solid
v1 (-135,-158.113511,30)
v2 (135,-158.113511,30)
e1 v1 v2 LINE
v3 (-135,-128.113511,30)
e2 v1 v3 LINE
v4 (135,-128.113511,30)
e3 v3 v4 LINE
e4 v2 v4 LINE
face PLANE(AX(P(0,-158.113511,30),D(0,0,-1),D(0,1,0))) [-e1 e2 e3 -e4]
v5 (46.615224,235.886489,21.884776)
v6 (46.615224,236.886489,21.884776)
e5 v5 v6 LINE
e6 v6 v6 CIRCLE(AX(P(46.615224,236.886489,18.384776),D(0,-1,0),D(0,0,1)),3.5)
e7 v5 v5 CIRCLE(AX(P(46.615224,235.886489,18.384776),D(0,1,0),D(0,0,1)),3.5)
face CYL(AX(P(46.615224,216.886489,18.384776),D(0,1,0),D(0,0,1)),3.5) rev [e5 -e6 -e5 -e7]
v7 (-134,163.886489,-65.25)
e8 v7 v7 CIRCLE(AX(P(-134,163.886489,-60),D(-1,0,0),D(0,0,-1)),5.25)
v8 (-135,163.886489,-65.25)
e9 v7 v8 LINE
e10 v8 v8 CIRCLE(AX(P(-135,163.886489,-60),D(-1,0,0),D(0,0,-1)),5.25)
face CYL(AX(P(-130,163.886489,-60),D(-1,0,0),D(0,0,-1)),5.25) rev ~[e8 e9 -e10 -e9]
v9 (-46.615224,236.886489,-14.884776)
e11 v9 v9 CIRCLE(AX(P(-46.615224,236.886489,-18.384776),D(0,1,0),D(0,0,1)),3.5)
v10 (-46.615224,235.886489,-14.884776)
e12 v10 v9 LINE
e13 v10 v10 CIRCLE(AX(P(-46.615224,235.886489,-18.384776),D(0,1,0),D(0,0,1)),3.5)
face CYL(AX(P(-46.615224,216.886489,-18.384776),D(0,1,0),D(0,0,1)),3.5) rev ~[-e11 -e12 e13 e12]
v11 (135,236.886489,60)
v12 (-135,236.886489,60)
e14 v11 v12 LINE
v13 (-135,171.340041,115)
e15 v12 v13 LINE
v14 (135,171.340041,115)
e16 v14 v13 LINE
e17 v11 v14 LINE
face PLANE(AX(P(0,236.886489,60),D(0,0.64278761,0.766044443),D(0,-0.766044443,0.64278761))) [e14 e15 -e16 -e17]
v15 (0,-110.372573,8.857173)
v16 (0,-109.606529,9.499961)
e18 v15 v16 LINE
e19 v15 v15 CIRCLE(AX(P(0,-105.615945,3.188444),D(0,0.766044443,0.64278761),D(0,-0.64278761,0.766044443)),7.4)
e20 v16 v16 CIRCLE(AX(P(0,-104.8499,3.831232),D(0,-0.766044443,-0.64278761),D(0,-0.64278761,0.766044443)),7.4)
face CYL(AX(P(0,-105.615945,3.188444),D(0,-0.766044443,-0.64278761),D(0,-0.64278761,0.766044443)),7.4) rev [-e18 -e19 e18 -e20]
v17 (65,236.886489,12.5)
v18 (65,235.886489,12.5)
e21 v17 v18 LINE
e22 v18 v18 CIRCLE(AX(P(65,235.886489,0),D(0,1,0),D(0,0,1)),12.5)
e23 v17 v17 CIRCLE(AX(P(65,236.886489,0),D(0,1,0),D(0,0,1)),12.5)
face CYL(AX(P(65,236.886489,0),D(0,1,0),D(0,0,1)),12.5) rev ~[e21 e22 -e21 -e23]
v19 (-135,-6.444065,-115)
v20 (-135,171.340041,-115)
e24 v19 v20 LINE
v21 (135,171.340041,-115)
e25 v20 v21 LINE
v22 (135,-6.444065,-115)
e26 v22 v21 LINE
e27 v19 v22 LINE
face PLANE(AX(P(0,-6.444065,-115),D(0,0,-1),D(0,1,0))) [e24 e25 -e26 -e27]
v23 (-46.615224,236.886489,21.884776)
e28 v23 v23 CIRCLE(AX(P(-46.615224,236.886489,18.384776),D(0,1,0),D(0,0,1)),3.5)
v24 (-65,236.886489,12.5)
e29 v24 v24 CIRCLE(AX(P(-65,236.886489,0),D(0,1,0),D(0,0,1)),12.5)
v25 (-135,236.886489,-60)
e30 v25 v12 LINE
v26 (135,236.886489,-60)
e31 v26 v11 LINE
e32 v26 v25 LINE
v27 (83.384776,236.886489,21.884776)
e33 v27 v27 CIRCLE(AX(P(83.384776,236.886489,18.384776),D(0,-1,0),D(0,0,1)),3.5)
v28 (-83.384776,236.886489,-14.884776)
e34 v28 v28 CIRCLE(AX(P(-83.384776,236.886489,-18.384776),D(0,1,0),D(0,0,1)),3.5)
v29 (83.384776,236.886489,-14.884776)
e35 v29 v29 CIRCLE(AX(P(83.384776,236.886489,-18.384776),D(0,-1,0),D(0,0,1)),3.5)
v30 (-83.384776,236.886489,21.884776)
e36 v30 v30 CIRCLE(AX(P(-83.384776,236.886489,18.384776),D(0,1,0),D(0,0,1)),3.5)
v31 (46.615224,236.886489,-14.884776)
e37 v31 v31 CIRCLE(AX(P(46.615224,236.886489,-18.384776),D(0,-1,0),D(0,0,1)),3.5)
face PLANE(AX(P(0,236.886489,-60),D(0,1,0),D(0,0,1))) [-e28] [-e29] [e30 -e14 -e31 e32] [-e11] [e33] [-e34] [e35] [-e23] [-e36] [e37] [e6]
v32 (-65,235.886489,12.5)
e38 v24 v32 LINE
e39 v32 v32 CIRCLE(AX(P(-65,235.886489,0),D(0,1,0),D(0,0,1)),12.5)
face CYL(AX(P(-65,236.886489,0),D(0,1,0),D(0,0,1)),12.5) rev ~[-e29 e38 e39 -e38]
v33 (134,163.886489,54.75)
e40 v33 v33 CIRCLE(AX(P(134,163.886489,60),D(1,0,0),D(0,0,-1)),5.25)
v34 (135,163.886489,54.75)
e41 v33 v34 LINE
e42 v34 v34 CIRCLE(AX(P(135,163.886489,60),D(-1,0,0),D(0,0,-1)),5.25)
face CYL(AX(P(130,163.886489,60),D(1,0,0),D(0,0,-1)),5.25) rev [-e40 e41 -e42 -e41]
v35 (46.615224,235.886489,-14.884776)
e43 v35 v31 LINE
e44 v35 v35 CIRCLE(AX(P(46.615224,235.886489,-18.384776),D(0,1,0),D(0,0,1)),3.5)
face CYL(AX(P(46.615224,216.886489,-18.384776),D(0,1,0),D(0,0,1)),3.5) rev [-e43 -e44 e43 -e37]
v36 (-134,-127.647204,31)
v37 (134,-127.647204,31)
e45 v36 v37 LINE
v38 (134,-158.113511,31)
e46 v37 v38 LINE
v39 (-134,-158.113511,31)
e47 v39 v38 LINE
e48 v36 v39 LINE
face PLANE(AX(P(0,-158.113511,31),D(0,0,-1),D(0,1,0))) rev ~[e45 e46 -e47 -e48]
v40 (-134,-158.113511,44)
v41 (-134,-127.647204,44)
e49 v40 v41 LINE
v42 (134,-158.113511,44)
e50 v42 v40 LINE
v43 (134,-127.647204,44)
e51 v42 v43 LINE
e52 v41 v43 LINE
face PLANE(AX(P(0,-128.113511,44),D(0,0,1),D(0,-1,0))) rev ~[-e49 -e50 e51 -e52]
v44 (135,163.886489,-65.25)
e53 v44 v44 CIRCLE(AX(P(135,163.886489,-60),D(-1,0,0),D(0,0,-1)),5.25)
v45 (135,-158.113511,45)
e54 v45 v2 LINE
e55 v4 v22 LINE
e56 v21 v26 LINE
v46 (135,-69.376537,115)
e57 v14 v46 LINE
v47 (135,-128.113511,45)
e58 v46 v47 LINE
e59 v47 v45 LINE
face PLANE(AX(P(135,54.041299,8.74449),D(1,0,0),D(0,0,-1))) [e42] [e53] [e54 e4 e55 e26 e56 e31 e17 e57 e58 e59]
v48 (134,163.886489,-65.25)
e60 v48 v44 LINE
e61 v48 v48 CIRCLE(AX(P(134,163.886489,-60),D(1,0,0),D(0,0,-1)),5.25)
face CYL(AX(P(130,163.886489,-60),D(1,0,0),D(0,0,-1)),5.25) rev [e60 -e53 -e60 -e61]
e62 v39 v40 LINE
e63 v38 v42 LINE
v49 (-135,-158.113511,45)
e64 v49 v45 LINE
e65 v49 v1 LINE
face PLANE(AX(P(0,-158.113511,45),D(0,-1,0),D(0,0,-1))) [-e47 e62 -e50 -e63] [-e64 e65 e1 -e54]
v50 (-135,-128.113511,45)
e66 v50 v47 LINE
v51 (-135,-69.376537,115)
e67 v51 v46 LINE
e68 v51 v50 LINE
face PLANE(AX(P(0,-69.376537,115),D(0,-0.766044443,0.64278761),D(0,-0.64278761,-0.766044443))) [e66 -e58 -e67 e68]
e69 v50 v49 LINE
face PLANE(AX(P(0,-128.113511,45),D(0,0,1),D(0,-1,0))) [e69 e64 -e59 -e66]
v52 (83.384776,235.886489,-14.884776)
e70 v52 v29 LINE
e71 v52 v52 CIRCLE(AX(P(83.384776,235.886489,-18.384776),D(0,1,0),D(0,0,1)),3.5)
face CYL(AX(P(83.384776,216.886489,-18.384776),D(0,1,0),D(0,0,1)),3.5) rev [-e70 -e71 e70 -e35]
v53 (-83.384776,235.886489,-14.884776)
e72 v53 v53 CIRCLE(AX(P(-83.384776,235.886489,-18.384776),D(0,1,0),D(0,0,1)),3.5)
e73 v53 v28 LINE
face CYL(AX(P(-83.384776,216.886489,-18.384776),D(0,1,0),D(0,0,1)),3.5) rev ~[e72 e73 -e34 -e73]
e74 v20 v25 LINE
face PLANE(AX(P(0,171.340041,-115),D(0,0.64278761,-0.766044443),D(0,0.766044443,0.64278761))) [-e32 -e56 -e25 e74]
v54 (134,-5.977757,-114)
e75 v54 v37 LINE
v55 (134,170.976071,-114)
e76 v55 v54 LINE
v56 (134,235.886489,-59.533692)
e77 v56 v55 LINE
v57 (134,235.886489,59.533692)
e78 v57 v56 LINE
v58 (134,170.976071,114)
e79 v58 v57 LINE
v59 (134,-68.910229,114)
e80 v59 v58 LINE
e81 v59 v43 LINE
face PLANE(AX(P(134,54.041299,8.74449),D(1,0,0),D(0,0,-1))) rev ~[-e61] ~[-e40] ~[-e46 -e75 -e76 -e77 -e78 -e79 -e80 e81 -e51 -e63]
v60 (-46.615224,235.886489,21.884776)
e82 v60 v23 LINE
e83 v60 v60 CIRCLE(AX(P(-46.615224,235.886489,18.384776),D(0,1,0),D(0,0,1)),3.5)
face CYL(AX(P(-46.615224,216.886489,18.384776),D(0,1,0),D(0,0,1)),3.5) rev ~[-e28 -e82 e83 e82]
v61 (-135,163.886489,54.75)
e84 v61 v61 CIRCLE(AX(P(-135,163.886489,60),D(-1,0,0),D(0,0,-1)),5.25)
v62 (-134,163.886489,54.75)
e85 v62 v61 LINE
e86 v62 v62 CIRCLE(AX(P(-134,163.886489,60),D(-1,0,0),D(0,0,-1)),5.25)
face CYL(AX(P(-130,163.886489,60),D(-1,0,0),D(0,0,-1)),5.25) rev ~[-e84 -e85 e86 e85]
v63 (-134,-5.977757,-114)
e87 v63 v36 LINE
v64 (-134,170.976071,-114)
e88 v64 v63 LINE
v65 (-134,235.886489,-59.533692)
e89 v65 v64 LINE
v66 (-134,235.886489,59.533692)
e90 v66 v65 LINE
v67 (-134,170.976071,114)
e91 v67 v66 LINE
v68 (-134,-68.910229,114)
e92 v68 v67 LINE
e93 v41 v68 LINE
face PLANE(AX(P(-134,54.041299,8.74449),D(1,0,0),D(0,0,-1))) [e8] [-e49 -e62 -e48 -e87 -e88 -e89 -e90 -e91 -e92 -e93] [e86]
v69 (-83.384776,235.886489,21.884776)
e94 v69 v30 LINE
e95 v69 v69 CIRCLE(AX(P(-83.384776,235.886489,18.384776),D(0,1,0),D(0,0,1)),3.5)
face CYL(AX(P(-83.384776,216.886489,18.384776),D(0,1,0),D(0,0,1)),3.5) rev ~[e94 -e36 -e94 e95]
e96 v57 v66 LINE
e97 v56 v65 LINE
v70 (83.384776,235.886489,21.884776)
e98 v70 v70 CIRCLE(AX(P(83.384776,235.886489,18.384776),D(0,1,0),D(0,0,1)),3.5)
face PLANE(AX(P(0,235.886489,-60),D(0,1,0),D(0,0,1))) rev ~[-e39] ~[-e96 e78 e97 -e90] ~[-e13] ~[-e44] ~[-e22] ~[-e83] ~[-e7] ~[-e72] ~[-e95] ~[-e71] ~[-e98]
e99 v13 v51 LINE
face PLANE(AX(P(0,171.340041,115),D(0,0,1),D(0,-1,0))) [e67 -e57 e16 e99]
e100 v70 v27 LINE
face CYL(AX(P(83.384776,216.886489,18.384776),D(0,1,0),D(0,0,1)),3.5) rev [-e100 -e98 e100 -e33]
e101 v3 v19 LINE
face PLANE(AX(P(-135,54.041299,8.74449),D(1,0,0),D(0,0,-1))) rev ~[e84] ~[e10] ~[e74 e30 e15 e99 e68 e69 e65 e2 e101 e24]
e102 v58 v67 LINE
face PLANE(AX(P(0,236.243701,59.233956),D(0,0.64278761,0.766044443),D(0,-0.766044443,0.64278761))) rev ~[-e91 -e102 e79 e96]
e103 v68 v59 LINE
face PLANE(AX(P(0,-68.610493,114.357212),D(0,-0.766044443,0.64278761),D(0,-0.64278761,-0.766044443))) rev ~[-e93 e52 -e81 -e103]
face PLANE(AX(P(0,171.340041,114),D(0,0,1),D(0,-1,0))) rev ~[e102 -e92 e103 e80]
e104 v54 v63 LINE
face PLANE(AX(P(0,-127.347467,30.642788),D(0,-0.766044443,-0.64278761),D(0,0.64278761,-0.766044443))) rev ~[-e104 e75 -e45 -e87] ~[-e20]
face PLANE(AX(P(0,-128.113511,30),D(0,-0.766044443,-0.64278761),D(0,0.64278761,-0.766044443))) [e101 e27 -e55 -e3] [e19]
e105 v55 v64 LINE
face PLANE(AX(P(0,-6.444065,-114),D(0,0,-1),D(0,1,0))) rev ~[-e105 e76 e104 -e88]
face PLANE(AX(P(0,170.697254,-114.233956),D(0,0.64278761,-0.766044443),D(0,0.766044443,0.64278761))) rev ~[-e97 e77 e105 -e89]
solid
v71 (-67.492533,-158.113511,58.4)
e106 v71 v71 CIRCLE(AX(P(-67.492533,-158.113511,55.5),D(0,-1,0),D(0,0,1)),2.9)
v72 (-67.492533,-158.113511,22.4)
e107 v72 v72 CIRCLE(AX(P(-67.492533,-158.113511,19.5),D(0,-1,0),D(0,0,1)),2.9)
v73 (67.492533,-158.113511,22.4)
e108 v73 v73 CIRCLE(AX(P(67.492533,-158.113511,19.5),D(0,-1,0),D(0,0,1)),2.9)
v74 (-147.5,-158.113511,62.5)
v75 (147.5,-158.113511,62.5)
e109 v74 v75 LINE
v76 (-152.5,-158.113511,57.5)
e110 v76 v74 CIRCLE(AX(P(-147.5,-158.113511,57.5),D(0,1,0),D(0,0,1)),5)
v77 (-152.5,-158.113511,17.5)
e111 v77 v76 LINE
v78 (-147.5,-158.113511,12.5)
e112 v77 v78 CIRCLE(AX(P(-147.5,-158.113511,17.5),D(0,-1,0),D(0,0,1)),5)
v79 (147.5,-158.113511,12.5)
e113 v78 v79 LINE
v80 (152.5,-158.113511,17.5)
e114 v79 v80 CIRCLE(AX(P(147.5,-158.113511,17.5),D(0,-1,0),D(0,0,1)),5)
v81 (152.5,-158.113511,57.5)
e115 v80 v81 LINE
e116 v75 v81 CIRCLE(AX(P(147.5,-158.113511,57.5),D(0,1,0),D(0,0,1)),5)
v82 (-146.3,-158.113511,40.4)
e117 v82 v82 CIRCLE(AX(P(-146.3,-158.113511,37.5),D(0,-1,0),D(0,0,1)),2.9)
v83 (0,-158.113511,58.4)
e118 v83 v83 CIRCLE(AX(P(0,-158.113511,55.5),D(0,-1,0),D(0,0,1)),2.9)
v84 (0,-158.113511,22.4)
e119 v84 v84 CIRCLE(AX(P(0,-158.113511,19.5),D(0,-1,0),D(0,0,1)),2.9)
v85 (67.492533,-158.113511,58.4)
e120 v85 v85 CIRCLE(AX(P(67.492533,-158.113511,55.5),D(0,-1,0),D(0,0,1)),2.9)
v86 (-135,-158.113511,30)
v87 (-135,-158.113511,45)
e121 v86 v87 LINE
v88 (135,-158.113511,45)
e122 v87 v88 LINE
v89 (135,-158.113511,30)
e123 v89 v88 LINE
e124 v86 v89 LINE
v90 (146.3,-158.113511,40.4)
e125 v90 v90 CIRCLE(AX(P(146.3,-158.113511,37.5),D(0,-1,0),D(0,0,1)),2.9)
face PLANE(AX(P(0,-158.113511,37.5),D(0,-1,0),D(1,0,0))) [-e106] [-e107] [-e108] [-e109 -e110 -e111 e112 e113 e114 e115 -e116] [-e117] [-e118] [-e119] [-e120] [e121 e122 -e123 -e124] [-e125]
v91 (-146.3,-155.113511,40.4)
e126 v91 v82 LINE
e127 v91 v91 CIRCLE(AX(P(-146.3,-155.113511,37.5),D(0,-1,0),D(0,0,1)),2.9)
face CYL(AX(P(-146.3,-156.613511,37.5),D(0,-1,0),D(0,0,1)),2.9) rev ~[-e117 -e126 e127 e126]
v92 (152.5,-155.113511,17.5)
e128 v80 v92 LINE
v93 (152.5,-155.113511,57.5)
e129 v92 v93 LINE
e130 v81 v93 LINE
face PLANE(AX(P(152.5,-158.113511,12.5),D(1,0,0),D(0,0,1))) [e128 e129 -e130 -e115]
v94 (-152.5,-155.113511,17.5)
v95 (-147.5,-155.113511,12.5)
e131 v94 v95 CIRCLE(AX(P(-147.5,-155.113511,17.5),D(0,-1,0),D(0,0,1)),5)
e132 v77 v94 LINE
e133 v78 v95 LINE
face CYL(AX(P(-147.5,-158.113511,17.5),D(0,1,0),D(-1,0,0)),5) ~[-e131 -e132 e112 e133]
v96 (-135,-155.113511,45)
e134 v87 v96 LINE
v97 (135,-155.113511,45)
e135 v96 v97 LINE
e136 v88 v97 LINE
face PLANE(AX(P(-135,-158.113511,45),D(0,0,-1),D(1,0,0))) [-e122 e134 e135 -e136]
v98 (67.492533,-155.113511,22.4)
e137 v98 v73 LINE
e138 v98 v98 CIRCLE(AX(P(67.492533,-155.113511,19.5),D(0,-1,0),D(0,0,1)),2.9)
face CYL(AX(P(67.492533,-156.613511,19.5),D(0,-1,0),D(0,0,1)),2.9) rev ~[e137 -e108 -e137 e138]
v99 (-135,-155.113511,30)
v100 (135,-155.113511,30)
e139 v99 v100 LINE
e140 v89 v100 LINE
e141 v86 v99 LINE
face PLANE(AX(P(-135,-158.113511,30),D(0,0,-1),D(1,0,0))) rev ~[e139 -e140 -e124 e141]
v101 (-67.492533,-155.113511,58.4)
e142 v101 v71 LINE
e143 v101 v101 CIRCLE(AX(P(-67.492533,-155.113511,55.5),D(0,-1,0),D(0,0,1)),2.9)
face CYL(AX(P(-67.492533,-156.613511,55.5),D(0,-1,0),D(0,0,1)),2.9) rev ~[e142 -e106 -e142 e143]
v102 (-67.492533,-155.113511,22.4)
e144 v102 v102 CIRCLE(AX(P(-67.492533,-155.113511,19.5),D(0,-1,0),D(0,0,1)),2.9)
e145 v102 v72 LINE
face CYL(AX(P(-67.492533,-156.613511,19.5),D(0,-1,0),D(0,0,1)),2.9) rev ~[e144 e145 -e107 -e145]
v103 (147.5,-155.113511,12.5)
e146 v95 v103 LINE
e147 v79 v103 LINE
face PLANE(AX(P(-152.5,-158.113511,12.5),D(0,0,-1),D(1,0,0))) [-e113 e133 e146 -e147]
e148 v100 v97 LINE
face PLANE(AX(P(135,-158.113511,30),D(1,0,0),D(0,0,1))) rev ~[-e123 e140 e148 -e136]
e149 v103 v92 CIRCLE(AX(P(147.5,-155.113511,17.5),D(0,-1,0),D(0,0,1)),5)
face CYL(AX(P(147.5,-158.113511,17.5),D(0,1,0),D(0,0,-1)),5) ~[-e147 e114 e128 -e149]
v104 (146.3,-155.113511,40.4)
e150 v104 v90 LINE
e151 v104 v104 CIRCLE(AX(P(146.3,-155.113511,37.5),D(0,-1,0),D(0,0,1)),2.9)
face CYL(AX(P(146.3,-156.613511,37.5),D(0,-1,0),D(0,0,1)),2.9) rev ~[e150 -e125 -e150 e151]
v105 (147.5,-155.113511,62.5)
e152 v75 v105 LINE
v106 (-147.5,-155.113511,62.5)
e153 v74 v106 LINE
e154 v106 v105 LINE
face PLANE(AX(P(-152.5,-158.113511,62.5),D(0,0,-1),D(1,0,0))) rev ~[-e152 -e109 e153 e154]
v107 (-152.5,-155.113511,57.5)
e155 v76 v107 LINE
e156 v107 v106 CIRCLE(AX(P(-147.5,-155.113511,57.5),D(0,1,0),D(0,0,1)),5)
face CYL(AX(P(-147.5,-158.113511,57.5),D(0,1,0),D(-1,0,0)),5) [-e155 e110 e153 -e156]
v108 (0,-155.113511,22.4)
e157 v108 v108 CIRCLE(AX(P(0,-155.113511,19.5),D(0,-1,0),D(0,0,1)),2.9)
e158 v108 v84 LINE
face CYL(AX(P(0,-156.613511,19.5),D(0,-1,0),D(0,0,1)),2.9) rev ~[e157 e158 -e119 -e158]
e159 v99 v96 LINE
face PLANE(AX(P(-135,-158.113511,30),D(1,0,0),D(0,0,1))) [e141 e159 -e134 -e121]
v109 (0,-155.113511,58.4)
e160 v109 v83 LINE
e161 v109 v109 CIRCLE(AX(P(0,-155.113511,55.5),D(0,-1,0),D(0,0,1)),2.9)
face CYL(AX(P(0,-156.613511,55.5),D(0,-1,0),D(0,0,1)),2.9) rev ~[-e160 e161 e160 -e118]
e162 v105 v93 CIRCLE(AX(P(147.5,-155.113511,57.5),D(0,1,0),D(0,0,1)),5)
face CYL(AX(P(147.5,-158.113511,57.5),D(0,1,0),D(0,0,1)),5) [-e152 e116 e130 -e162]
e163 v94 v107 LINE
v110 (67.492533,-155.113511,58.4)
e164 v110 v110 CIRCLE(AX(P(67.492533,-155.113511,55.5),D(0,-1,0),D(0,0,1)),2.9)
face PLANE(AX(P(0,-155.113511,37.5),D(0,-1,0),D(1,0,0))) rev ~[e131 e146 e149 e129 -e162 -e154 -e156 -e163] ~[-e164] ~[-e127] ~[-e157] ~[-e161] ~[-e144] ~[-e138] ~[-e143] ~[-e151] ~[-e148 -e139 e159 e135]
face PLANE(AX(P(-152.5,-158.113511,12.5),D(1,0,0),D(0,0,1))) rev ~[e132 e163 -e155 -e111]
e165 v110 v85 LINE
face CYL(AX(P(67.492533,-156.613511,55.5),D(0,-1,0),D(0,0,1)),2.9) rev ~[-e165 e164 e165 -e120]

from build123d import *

# Parameters (mm, degrees)
BOSS_EXTRUDE1_DEPTH                   = 135
SHELL1_T                              = -1
SKETCH16_W                            = 305
SKETCH16_H                            = 50
SKETCH16_W_2                          = 270
SKETCH16_H_2                          = 15
BOSS_EXTRUDE2_DEPTH                   = 3
SKETCH18_W                            = 2.9
SKETCH18_H                            = 3
M5_CLEARANCE_HOLE1_AT_2_COUNT         = 2
M5_CLEARANCE_HOLE1_AT_2_PITCH         = 67.49253334
M5_CLEARANCE_HOLE1_AT_3_COUNT         = 2
M5_CLEARANCE_HOLE1_AT_3_PITCH         = 134.98506668
M5_CLEARANCE_HOLE1_AT_4_COUNT         = 2
M5_CLEARANCE_HOLE1_AT_4_PITCH         = 214.5489392
M5_CLEARANCE_HOLE1_AT_5_COUNT         = 2
M5_CLEARANCE_HOLE1_AT_5_PITCH         = 139.703143223
M5_CLEARANCE_HOLE1_AT_6_COUNT         = 2
M5_CLEARANCE_HOLE1_AT_6_PITCH         = 76.493411851
M5_CLEARANCE_HOLE1_AT_7_COUNT         = 2
M5_CLEARANCE_HOLE1_AT_7_PITCH         = 36
M5_CLEARANCE_HOLE1_AT_8_COUNT         = 2
M5_CLEARANCE_HOLE1_AT_8_PITCH         = 80.836976696
SKETCH19_R                            = 12.5
CUT_EXTRUDE1_DEPTH                    = 10
FILLET1_R                             = 5
F_7_0_7_DIAMETER_HOLE1_AT_2_COUNT     = 2
F_7_0_7_DIAMETER_HOLE1_AT_2_PITCH     = 36.769552622
F_7_0_7_DIAMETER_HOLE1_AT_3_COUNT     = 2
F_7_0_7_DIAMETER_HOLE1_AT_3_PITCH     = 36.769552622
F_7_0_7_DIAMETER_HOLE1_AT_4_COUNT     = 2
F_7_0_7_DIAMETER_HOLE1_AT_4_PITCH     = 52
SKETCH23_R                            = 7.4
CUT_EXTRUDE2_DEPTH                    = 10
F_10_5_10_5_DIAMETER_HOLE1_AT_2_COUNT = 2
F_10_5_10_5_DIAMETER_HOLE1_AT_2_PITCH = 120


with BuildPart() as part:
    # Sketch1 → Boss-Extrude1 (new, symmetric)
    with BuildSketch(Plane(origin=(0, 0, 0), x_dir=(0, 0, -1), z_dir=(1, 0, 0))):
        Polygon((-115, 171.340041203), (-115, -69.376537021), (-45, -128.113511204), (-45, -158.113511204), (-30, -158.113511204), (-30, -128.113511204), (115, -6.444064683), (115, 171.340041203), (60, 236.886488796), (-60, 236.886488796), align=None)
    extrude(amount=BOSS_EXTRUDE1_DEPTH, both=True)

    # Shell1
    shell1_openings = [part.faces().sort_by_distance(p)[0] for p in [
        (0, -158.113511204, 37.5),
    ]]
    offset(amount=SHELL1_T, openings=shell1_openings, kind=Kind.INTERSECTION)

    # Sketch19 → Cut-Extrude1 (cut)
    with BuildSketch(Plane(origin=(0, 236.886488796, 0), x_dir=(1, 0, 0), z_dir=(0, 1, 0))):
        with Locations(Location((65, 0, 0), (0, 0, 270))):
            Circle(SKETCH19_R)
        with Locations(Location((-65, 0, 0), (0, 0, 270))):
            Circle(SKETCH19_R)
    extrude(amount=-CUT_EXTRUDE1_DEPTH, mode=Mode.SUBTRACT)

    # Sketch22 → Ø7.0 (7) Diameter Hole1 (revolve, cut)
    with BuildSketch(Plane(origin=(46.615223689, 236.886488796, -18.384776311), x_dir=(0, 0, 1), z_dir=(1, 0, 0))):
        Polygon((0, 0), (0, 22.103012167), (3.5, 20), (3.5, 0), align=None)
    f_7_0_7_diameter_hole1 = revolve(axis=Axis((46.615223689, 243.236488796, -18.384776311), (0, -1, 0)), mode=Mode.SUBTRACT)

    # Ø7.0 (7) Diameter Hole1 at 2: Ø7.0 (7) Diameter Hole1 ×2
    with Locations(*[(i * F_7_0_7_DIAMETER_HOLE1_AT_2_PITCH, 0, 0) for i in range(1, F_7_0_7_DIAMETER_HOLE1_AT_2_COUNT)]):
        add(f_7_0_7_diameter_hole1, mode=Mode.SUBTRACT)

    # Ø7.0 (7) Diameter Hole1 at 3: Ø7.0 (7) Diameter Hole1 ×2
    with Locations(*[(0, 0, i * F_7_0_7_DIAMETER_HOLE1_AT_3_PITCH) for i in range(1, F_7_0_7_DIAMETER_HOLE1_AT_3_COUNT)]):
        add(f_7_0_7_diameter_hole1, mode=Mode.SUBTRACT)

    # Ø7.0 (7) Diameter Hole1 at 4: Ø7.0 (7) Diameter Hole1 ×2
    with Locations(*[Vector(0.7071067811865488, 0, 0.7071067811865464) * (i * F_7_0_7_DIAMETER_HOLE1_AT_4_PITCH) for i in range(1, F_7_0_7_DIAMETER_HOLE1_AT_4_COUNT)]):
        add(f_7_0_7_diameter_hole1, mode=Mode.SUBTRACT)

    # Mirror1: Ø7.0 (7) Diameter Hole1 across plane
    add(f_7_0_7_diameter_hole1.mirror(Plane(origin=(0, 0, 0), x_dir=(0, 0, 1), z_dir=(1, 0, 0))), mode=Mode.SUBTRACT)

    # Mirror1 copy 1 sketch → Mirror1 copy 1 (revolve, cut)
    with BuildSketch(Plane(origin=(-83.384776311, 236.886488796, -18.384776311), x_dir=(0, 0, 1), z_dir=(-1, 0, 0))):
        Polygon((0, 0), (0, -22.103012167), (3.5, -20), (3.5, 0), align=None)
    revolve(axis=Axis((-83.384776311, 243.236488796, -18.384776311), (0, 1, 0)), mode=Mode.SUBTRACT)

    # Mirror1 copy 2 sketch → Mirror1 copy 2 (revolve, cut)
    with BuildSketch(Plane(origin=(-46.615223689, 236.886488796, 18.384776311), x_dir=(0, 0, 1), z_dir=(-1, 0, 0))):
        Polygon((0, 0), (0, -22.103012167), (3.5, -20), (3.5, 0), align=None)
    revolve(axis=Axis((-46.615223689, 243.236488796, 18.384776311), (0, 1, 0)), mode=Mode.SUBTRACT)

    # Mirror1 copy 3 sketch → Mirror1 copy 3 (revolve, cut)
    with BuildSketch(Plane(origin=(-83.384776311, 236.886488796, 18.384776311), x_dir=(0, 0, 1), z_dir=(-1, 0, 0))):
        Polygon((0, 0), (0, -22.103012167), (3.5, -20), (3.5, 0), align=None)
    revolve(axis=Axis((-83.384776311, 243.236488796, 18.384776311), (0, 1, 0)), mode=Mode.SUBTRACT)

    # Sketch23 → Cut-Extrude2 (cut)
    with BuildSketch(Plane(origin=(0, -97.338268922, -6.676505552), x_dir=(1, 0, 0), z_dir=(0, 0.7660444431189791, 0.642787609686538))):
        with Locations(Location((0, -12.877777695, 0), (0, 0, 270))):
            Circle(SKETCH23_R)
    extrude(amount=CUT_EXTRUDE2_DEPTH, mode=Mode.SUBTRACT)

    # Sketch25 → Ø10.5 (10.5) Diameter Hole1 (revolve, cut)
    with BuildSketch(Plane(origin=(135, 163.886488796, -60), x_dir=(0, 0, -1), z_dir=(0, 1, 0))):
        Polygon((0, 0), (0, 8.15451825), (5.25, 5), (5.25, 0), align=None)
    f_10_5_10_5_diameter_hole1 = revolve(axis=Axis((141.35, 163.886488796, -60), (-1, 0, 0)), mode=Mode.SUBTRACT)

    # Ø10.5 (10.5) Diameter Hole1 at 2: Ø10.5 (10.5) Diameter Hole1 ×2
    with Locations(*[(0, 0, i * F_10_5_10_5_DIAMETER_HOLE1_AT_2_PITCH) for i in range(1, F_10_5_10_5_DIAMETER_HOLE1_AT_2_COUNT)]):
        add(f_10_5_10_5_diameter_hole1, mode=Mode.SUBTRACT)

    # Mirror2: Ø10.5 (10.5) Diameter Hole1 across plane
    add(f_10_5_10_5_diameter_hole1.mirror(Plane(origin=(0, 0, 0), x_dir=(0, 0, 1), z_dir=(1, 0, 0))), mode=Mode.SUBTRACT)

    # Mirror2 copy 1 sketch → Mirror2 copy 1 (revolve, cut)
    with BuildSketch(Plane(origin=(-135, 163.886488796, 60), x_dir=(0, 0, -1), z_dir=(0, 1, 0))):
        Polygon((0, 0), (0, -8.15451825), (5.25, -5), (5.25, 0), align=None)
    revolve(axis=Axis((-141.35, 163.886488796, 60), (-1, 0, 0)), mode=Mode.SUBTRACT)


with BuildPart() as body_2:
    # Sketch16 → Boss-Extrude2 (new body)
    with BuildSketch(Plane.XZ.offset(158.113511204)):
        with Locations((0, 37.5)):
            Rectangle(SKETCH16_W, SKETCH16_H)
        with Locations((0, 37.5)):
            Rectangle(SKETCH16_W_2, SKETCH16_H_2, mode=Mode.SUBTRACT)
    extrude(amount=-BOSS_EXTRUDE2_DEPTH)

    # Sketch18 → M5 Clearance Hole1 (revolve, cut)
    with BuildSketch(Plane(origin=(67.49253334, -155.113511204, 19.5), x_dir=(0, 0, 1), z_dir=(1, 0, 0))):
        with Locations((1.45, 1.5)):
            Rectangle(SKETCH18_W, SKETCH18_H)
    m5_clearance_hole1 = revolve(axis=Axis((67.49253334, -148.763511204, 19.5), (0, -1, 0)), mode=Mode.SUBTRACT)

    # M5 Clearance Hole1 at 2: M5 Clearance Hole1 ×2
    with Locations(*[(-i * M5_CLEARANCE_HOLE1_AT_2_PITCH, 0, 0) for i in range(1, M5_CLEARANCE_HOLE1_AT_2_COUNT)]):
        add(m5_clearance_hole1, mode=Mode.SUBTRACT)

    # M5 Clearance Hole1 at 3: M5 Clearance Hole1 ×2
    with Locations(*[(-i * M5_CLEARANCE_HOLE1_AT_3_PITCH, 0, 0) for i in range(1, M5_CLEARANCE_HOLE1_AT_3_COUNT)]):
        add(m5_clearance_hole1, mode=Mode.SUBTRACT)

    # M5 Clearance Hole1 at 4: M5 Clearance Hole1 ×2
    with Locations(*[Vector(-0.996474436727455, 0, 0.083896942427608) * (i * M5_CLEARANCE_HOLE1_AT_4_PITCH) for i in range(1, M5_CLEARANCE_HOLE1_AT_4_COUNT)]):
        add(m5_clearance_hole1, mode=Mode.SUBTRACT)

    # M5 Clearance Hole1 at 5: M5 Clearance Hole1 ×2
    with Locations(*[Vector(-0.9662278425887242, 0, 0.25768926288524274) * (i * M5_CLEARANCE_HOLE1_AT_5_PITCH) for i in range(1, M5_CLEARANCE_HOLE1_AT_5_COUNT)]):
        add(m5_clearance_hole1, mode=Mode.SUBTRACT)

    # M5 Clearance Hole1 at 6: M5 Clearance Hole1 ×2
    with Locations(*[Vector(-0.8823313237899557, 0, 0.4706287656519355) * (i * M5_CLEARANCE_HOLE1_AT_6_PITCH) for i in range(1, M5_CLEARANCE_HOLE1_AT_6_COUNT)]):
        add(m5_clearance_hole1, mode=Mode.SUBTRACT)

    # M5 Clearance Hole1 at 7: M5 Clearance Hole1 ×2
    with Locations(*[(0, 0, i * M5_CLEARANCE_HOLE1_AT_7_PITCH) for i in range(1, M5_CLEARANCE_HOLE1_AT_7_COUNT)]):
        add(m5_clearance_hole1, mode=Mode.SUBTRACT)

    # M5 Clearance Hole1 at 8: M5 Clearance Hole1 ×2
    with Locations(*[Vector(0.9748937909476473, 0, 0.22267037605331547) * (i * M5_CLEARANCE_HOLE1_AT_8_PITCH) for i in range(1, M5_CLEARANCE_HOLE1_AT_8_COUNT)]):
        add(m5_clearance_hole1, mode=Mode.SUBTRACT)

    # Fillet1
    fillet1_edges = [body_2.edges().sort_by_distance(p)[0] for p in [
        (-152.5, -156.613511204, 62.5),
        (152.5, -156.613511204, 62.5),
        (152.5, -156.613511204, 12.5),
        (-152.5, -156.613511204, 12.5),
    ]]
    fillet(fillet1_edges, radius=FILLET1_R)


solid = Compound([part.part, body_2.part])
